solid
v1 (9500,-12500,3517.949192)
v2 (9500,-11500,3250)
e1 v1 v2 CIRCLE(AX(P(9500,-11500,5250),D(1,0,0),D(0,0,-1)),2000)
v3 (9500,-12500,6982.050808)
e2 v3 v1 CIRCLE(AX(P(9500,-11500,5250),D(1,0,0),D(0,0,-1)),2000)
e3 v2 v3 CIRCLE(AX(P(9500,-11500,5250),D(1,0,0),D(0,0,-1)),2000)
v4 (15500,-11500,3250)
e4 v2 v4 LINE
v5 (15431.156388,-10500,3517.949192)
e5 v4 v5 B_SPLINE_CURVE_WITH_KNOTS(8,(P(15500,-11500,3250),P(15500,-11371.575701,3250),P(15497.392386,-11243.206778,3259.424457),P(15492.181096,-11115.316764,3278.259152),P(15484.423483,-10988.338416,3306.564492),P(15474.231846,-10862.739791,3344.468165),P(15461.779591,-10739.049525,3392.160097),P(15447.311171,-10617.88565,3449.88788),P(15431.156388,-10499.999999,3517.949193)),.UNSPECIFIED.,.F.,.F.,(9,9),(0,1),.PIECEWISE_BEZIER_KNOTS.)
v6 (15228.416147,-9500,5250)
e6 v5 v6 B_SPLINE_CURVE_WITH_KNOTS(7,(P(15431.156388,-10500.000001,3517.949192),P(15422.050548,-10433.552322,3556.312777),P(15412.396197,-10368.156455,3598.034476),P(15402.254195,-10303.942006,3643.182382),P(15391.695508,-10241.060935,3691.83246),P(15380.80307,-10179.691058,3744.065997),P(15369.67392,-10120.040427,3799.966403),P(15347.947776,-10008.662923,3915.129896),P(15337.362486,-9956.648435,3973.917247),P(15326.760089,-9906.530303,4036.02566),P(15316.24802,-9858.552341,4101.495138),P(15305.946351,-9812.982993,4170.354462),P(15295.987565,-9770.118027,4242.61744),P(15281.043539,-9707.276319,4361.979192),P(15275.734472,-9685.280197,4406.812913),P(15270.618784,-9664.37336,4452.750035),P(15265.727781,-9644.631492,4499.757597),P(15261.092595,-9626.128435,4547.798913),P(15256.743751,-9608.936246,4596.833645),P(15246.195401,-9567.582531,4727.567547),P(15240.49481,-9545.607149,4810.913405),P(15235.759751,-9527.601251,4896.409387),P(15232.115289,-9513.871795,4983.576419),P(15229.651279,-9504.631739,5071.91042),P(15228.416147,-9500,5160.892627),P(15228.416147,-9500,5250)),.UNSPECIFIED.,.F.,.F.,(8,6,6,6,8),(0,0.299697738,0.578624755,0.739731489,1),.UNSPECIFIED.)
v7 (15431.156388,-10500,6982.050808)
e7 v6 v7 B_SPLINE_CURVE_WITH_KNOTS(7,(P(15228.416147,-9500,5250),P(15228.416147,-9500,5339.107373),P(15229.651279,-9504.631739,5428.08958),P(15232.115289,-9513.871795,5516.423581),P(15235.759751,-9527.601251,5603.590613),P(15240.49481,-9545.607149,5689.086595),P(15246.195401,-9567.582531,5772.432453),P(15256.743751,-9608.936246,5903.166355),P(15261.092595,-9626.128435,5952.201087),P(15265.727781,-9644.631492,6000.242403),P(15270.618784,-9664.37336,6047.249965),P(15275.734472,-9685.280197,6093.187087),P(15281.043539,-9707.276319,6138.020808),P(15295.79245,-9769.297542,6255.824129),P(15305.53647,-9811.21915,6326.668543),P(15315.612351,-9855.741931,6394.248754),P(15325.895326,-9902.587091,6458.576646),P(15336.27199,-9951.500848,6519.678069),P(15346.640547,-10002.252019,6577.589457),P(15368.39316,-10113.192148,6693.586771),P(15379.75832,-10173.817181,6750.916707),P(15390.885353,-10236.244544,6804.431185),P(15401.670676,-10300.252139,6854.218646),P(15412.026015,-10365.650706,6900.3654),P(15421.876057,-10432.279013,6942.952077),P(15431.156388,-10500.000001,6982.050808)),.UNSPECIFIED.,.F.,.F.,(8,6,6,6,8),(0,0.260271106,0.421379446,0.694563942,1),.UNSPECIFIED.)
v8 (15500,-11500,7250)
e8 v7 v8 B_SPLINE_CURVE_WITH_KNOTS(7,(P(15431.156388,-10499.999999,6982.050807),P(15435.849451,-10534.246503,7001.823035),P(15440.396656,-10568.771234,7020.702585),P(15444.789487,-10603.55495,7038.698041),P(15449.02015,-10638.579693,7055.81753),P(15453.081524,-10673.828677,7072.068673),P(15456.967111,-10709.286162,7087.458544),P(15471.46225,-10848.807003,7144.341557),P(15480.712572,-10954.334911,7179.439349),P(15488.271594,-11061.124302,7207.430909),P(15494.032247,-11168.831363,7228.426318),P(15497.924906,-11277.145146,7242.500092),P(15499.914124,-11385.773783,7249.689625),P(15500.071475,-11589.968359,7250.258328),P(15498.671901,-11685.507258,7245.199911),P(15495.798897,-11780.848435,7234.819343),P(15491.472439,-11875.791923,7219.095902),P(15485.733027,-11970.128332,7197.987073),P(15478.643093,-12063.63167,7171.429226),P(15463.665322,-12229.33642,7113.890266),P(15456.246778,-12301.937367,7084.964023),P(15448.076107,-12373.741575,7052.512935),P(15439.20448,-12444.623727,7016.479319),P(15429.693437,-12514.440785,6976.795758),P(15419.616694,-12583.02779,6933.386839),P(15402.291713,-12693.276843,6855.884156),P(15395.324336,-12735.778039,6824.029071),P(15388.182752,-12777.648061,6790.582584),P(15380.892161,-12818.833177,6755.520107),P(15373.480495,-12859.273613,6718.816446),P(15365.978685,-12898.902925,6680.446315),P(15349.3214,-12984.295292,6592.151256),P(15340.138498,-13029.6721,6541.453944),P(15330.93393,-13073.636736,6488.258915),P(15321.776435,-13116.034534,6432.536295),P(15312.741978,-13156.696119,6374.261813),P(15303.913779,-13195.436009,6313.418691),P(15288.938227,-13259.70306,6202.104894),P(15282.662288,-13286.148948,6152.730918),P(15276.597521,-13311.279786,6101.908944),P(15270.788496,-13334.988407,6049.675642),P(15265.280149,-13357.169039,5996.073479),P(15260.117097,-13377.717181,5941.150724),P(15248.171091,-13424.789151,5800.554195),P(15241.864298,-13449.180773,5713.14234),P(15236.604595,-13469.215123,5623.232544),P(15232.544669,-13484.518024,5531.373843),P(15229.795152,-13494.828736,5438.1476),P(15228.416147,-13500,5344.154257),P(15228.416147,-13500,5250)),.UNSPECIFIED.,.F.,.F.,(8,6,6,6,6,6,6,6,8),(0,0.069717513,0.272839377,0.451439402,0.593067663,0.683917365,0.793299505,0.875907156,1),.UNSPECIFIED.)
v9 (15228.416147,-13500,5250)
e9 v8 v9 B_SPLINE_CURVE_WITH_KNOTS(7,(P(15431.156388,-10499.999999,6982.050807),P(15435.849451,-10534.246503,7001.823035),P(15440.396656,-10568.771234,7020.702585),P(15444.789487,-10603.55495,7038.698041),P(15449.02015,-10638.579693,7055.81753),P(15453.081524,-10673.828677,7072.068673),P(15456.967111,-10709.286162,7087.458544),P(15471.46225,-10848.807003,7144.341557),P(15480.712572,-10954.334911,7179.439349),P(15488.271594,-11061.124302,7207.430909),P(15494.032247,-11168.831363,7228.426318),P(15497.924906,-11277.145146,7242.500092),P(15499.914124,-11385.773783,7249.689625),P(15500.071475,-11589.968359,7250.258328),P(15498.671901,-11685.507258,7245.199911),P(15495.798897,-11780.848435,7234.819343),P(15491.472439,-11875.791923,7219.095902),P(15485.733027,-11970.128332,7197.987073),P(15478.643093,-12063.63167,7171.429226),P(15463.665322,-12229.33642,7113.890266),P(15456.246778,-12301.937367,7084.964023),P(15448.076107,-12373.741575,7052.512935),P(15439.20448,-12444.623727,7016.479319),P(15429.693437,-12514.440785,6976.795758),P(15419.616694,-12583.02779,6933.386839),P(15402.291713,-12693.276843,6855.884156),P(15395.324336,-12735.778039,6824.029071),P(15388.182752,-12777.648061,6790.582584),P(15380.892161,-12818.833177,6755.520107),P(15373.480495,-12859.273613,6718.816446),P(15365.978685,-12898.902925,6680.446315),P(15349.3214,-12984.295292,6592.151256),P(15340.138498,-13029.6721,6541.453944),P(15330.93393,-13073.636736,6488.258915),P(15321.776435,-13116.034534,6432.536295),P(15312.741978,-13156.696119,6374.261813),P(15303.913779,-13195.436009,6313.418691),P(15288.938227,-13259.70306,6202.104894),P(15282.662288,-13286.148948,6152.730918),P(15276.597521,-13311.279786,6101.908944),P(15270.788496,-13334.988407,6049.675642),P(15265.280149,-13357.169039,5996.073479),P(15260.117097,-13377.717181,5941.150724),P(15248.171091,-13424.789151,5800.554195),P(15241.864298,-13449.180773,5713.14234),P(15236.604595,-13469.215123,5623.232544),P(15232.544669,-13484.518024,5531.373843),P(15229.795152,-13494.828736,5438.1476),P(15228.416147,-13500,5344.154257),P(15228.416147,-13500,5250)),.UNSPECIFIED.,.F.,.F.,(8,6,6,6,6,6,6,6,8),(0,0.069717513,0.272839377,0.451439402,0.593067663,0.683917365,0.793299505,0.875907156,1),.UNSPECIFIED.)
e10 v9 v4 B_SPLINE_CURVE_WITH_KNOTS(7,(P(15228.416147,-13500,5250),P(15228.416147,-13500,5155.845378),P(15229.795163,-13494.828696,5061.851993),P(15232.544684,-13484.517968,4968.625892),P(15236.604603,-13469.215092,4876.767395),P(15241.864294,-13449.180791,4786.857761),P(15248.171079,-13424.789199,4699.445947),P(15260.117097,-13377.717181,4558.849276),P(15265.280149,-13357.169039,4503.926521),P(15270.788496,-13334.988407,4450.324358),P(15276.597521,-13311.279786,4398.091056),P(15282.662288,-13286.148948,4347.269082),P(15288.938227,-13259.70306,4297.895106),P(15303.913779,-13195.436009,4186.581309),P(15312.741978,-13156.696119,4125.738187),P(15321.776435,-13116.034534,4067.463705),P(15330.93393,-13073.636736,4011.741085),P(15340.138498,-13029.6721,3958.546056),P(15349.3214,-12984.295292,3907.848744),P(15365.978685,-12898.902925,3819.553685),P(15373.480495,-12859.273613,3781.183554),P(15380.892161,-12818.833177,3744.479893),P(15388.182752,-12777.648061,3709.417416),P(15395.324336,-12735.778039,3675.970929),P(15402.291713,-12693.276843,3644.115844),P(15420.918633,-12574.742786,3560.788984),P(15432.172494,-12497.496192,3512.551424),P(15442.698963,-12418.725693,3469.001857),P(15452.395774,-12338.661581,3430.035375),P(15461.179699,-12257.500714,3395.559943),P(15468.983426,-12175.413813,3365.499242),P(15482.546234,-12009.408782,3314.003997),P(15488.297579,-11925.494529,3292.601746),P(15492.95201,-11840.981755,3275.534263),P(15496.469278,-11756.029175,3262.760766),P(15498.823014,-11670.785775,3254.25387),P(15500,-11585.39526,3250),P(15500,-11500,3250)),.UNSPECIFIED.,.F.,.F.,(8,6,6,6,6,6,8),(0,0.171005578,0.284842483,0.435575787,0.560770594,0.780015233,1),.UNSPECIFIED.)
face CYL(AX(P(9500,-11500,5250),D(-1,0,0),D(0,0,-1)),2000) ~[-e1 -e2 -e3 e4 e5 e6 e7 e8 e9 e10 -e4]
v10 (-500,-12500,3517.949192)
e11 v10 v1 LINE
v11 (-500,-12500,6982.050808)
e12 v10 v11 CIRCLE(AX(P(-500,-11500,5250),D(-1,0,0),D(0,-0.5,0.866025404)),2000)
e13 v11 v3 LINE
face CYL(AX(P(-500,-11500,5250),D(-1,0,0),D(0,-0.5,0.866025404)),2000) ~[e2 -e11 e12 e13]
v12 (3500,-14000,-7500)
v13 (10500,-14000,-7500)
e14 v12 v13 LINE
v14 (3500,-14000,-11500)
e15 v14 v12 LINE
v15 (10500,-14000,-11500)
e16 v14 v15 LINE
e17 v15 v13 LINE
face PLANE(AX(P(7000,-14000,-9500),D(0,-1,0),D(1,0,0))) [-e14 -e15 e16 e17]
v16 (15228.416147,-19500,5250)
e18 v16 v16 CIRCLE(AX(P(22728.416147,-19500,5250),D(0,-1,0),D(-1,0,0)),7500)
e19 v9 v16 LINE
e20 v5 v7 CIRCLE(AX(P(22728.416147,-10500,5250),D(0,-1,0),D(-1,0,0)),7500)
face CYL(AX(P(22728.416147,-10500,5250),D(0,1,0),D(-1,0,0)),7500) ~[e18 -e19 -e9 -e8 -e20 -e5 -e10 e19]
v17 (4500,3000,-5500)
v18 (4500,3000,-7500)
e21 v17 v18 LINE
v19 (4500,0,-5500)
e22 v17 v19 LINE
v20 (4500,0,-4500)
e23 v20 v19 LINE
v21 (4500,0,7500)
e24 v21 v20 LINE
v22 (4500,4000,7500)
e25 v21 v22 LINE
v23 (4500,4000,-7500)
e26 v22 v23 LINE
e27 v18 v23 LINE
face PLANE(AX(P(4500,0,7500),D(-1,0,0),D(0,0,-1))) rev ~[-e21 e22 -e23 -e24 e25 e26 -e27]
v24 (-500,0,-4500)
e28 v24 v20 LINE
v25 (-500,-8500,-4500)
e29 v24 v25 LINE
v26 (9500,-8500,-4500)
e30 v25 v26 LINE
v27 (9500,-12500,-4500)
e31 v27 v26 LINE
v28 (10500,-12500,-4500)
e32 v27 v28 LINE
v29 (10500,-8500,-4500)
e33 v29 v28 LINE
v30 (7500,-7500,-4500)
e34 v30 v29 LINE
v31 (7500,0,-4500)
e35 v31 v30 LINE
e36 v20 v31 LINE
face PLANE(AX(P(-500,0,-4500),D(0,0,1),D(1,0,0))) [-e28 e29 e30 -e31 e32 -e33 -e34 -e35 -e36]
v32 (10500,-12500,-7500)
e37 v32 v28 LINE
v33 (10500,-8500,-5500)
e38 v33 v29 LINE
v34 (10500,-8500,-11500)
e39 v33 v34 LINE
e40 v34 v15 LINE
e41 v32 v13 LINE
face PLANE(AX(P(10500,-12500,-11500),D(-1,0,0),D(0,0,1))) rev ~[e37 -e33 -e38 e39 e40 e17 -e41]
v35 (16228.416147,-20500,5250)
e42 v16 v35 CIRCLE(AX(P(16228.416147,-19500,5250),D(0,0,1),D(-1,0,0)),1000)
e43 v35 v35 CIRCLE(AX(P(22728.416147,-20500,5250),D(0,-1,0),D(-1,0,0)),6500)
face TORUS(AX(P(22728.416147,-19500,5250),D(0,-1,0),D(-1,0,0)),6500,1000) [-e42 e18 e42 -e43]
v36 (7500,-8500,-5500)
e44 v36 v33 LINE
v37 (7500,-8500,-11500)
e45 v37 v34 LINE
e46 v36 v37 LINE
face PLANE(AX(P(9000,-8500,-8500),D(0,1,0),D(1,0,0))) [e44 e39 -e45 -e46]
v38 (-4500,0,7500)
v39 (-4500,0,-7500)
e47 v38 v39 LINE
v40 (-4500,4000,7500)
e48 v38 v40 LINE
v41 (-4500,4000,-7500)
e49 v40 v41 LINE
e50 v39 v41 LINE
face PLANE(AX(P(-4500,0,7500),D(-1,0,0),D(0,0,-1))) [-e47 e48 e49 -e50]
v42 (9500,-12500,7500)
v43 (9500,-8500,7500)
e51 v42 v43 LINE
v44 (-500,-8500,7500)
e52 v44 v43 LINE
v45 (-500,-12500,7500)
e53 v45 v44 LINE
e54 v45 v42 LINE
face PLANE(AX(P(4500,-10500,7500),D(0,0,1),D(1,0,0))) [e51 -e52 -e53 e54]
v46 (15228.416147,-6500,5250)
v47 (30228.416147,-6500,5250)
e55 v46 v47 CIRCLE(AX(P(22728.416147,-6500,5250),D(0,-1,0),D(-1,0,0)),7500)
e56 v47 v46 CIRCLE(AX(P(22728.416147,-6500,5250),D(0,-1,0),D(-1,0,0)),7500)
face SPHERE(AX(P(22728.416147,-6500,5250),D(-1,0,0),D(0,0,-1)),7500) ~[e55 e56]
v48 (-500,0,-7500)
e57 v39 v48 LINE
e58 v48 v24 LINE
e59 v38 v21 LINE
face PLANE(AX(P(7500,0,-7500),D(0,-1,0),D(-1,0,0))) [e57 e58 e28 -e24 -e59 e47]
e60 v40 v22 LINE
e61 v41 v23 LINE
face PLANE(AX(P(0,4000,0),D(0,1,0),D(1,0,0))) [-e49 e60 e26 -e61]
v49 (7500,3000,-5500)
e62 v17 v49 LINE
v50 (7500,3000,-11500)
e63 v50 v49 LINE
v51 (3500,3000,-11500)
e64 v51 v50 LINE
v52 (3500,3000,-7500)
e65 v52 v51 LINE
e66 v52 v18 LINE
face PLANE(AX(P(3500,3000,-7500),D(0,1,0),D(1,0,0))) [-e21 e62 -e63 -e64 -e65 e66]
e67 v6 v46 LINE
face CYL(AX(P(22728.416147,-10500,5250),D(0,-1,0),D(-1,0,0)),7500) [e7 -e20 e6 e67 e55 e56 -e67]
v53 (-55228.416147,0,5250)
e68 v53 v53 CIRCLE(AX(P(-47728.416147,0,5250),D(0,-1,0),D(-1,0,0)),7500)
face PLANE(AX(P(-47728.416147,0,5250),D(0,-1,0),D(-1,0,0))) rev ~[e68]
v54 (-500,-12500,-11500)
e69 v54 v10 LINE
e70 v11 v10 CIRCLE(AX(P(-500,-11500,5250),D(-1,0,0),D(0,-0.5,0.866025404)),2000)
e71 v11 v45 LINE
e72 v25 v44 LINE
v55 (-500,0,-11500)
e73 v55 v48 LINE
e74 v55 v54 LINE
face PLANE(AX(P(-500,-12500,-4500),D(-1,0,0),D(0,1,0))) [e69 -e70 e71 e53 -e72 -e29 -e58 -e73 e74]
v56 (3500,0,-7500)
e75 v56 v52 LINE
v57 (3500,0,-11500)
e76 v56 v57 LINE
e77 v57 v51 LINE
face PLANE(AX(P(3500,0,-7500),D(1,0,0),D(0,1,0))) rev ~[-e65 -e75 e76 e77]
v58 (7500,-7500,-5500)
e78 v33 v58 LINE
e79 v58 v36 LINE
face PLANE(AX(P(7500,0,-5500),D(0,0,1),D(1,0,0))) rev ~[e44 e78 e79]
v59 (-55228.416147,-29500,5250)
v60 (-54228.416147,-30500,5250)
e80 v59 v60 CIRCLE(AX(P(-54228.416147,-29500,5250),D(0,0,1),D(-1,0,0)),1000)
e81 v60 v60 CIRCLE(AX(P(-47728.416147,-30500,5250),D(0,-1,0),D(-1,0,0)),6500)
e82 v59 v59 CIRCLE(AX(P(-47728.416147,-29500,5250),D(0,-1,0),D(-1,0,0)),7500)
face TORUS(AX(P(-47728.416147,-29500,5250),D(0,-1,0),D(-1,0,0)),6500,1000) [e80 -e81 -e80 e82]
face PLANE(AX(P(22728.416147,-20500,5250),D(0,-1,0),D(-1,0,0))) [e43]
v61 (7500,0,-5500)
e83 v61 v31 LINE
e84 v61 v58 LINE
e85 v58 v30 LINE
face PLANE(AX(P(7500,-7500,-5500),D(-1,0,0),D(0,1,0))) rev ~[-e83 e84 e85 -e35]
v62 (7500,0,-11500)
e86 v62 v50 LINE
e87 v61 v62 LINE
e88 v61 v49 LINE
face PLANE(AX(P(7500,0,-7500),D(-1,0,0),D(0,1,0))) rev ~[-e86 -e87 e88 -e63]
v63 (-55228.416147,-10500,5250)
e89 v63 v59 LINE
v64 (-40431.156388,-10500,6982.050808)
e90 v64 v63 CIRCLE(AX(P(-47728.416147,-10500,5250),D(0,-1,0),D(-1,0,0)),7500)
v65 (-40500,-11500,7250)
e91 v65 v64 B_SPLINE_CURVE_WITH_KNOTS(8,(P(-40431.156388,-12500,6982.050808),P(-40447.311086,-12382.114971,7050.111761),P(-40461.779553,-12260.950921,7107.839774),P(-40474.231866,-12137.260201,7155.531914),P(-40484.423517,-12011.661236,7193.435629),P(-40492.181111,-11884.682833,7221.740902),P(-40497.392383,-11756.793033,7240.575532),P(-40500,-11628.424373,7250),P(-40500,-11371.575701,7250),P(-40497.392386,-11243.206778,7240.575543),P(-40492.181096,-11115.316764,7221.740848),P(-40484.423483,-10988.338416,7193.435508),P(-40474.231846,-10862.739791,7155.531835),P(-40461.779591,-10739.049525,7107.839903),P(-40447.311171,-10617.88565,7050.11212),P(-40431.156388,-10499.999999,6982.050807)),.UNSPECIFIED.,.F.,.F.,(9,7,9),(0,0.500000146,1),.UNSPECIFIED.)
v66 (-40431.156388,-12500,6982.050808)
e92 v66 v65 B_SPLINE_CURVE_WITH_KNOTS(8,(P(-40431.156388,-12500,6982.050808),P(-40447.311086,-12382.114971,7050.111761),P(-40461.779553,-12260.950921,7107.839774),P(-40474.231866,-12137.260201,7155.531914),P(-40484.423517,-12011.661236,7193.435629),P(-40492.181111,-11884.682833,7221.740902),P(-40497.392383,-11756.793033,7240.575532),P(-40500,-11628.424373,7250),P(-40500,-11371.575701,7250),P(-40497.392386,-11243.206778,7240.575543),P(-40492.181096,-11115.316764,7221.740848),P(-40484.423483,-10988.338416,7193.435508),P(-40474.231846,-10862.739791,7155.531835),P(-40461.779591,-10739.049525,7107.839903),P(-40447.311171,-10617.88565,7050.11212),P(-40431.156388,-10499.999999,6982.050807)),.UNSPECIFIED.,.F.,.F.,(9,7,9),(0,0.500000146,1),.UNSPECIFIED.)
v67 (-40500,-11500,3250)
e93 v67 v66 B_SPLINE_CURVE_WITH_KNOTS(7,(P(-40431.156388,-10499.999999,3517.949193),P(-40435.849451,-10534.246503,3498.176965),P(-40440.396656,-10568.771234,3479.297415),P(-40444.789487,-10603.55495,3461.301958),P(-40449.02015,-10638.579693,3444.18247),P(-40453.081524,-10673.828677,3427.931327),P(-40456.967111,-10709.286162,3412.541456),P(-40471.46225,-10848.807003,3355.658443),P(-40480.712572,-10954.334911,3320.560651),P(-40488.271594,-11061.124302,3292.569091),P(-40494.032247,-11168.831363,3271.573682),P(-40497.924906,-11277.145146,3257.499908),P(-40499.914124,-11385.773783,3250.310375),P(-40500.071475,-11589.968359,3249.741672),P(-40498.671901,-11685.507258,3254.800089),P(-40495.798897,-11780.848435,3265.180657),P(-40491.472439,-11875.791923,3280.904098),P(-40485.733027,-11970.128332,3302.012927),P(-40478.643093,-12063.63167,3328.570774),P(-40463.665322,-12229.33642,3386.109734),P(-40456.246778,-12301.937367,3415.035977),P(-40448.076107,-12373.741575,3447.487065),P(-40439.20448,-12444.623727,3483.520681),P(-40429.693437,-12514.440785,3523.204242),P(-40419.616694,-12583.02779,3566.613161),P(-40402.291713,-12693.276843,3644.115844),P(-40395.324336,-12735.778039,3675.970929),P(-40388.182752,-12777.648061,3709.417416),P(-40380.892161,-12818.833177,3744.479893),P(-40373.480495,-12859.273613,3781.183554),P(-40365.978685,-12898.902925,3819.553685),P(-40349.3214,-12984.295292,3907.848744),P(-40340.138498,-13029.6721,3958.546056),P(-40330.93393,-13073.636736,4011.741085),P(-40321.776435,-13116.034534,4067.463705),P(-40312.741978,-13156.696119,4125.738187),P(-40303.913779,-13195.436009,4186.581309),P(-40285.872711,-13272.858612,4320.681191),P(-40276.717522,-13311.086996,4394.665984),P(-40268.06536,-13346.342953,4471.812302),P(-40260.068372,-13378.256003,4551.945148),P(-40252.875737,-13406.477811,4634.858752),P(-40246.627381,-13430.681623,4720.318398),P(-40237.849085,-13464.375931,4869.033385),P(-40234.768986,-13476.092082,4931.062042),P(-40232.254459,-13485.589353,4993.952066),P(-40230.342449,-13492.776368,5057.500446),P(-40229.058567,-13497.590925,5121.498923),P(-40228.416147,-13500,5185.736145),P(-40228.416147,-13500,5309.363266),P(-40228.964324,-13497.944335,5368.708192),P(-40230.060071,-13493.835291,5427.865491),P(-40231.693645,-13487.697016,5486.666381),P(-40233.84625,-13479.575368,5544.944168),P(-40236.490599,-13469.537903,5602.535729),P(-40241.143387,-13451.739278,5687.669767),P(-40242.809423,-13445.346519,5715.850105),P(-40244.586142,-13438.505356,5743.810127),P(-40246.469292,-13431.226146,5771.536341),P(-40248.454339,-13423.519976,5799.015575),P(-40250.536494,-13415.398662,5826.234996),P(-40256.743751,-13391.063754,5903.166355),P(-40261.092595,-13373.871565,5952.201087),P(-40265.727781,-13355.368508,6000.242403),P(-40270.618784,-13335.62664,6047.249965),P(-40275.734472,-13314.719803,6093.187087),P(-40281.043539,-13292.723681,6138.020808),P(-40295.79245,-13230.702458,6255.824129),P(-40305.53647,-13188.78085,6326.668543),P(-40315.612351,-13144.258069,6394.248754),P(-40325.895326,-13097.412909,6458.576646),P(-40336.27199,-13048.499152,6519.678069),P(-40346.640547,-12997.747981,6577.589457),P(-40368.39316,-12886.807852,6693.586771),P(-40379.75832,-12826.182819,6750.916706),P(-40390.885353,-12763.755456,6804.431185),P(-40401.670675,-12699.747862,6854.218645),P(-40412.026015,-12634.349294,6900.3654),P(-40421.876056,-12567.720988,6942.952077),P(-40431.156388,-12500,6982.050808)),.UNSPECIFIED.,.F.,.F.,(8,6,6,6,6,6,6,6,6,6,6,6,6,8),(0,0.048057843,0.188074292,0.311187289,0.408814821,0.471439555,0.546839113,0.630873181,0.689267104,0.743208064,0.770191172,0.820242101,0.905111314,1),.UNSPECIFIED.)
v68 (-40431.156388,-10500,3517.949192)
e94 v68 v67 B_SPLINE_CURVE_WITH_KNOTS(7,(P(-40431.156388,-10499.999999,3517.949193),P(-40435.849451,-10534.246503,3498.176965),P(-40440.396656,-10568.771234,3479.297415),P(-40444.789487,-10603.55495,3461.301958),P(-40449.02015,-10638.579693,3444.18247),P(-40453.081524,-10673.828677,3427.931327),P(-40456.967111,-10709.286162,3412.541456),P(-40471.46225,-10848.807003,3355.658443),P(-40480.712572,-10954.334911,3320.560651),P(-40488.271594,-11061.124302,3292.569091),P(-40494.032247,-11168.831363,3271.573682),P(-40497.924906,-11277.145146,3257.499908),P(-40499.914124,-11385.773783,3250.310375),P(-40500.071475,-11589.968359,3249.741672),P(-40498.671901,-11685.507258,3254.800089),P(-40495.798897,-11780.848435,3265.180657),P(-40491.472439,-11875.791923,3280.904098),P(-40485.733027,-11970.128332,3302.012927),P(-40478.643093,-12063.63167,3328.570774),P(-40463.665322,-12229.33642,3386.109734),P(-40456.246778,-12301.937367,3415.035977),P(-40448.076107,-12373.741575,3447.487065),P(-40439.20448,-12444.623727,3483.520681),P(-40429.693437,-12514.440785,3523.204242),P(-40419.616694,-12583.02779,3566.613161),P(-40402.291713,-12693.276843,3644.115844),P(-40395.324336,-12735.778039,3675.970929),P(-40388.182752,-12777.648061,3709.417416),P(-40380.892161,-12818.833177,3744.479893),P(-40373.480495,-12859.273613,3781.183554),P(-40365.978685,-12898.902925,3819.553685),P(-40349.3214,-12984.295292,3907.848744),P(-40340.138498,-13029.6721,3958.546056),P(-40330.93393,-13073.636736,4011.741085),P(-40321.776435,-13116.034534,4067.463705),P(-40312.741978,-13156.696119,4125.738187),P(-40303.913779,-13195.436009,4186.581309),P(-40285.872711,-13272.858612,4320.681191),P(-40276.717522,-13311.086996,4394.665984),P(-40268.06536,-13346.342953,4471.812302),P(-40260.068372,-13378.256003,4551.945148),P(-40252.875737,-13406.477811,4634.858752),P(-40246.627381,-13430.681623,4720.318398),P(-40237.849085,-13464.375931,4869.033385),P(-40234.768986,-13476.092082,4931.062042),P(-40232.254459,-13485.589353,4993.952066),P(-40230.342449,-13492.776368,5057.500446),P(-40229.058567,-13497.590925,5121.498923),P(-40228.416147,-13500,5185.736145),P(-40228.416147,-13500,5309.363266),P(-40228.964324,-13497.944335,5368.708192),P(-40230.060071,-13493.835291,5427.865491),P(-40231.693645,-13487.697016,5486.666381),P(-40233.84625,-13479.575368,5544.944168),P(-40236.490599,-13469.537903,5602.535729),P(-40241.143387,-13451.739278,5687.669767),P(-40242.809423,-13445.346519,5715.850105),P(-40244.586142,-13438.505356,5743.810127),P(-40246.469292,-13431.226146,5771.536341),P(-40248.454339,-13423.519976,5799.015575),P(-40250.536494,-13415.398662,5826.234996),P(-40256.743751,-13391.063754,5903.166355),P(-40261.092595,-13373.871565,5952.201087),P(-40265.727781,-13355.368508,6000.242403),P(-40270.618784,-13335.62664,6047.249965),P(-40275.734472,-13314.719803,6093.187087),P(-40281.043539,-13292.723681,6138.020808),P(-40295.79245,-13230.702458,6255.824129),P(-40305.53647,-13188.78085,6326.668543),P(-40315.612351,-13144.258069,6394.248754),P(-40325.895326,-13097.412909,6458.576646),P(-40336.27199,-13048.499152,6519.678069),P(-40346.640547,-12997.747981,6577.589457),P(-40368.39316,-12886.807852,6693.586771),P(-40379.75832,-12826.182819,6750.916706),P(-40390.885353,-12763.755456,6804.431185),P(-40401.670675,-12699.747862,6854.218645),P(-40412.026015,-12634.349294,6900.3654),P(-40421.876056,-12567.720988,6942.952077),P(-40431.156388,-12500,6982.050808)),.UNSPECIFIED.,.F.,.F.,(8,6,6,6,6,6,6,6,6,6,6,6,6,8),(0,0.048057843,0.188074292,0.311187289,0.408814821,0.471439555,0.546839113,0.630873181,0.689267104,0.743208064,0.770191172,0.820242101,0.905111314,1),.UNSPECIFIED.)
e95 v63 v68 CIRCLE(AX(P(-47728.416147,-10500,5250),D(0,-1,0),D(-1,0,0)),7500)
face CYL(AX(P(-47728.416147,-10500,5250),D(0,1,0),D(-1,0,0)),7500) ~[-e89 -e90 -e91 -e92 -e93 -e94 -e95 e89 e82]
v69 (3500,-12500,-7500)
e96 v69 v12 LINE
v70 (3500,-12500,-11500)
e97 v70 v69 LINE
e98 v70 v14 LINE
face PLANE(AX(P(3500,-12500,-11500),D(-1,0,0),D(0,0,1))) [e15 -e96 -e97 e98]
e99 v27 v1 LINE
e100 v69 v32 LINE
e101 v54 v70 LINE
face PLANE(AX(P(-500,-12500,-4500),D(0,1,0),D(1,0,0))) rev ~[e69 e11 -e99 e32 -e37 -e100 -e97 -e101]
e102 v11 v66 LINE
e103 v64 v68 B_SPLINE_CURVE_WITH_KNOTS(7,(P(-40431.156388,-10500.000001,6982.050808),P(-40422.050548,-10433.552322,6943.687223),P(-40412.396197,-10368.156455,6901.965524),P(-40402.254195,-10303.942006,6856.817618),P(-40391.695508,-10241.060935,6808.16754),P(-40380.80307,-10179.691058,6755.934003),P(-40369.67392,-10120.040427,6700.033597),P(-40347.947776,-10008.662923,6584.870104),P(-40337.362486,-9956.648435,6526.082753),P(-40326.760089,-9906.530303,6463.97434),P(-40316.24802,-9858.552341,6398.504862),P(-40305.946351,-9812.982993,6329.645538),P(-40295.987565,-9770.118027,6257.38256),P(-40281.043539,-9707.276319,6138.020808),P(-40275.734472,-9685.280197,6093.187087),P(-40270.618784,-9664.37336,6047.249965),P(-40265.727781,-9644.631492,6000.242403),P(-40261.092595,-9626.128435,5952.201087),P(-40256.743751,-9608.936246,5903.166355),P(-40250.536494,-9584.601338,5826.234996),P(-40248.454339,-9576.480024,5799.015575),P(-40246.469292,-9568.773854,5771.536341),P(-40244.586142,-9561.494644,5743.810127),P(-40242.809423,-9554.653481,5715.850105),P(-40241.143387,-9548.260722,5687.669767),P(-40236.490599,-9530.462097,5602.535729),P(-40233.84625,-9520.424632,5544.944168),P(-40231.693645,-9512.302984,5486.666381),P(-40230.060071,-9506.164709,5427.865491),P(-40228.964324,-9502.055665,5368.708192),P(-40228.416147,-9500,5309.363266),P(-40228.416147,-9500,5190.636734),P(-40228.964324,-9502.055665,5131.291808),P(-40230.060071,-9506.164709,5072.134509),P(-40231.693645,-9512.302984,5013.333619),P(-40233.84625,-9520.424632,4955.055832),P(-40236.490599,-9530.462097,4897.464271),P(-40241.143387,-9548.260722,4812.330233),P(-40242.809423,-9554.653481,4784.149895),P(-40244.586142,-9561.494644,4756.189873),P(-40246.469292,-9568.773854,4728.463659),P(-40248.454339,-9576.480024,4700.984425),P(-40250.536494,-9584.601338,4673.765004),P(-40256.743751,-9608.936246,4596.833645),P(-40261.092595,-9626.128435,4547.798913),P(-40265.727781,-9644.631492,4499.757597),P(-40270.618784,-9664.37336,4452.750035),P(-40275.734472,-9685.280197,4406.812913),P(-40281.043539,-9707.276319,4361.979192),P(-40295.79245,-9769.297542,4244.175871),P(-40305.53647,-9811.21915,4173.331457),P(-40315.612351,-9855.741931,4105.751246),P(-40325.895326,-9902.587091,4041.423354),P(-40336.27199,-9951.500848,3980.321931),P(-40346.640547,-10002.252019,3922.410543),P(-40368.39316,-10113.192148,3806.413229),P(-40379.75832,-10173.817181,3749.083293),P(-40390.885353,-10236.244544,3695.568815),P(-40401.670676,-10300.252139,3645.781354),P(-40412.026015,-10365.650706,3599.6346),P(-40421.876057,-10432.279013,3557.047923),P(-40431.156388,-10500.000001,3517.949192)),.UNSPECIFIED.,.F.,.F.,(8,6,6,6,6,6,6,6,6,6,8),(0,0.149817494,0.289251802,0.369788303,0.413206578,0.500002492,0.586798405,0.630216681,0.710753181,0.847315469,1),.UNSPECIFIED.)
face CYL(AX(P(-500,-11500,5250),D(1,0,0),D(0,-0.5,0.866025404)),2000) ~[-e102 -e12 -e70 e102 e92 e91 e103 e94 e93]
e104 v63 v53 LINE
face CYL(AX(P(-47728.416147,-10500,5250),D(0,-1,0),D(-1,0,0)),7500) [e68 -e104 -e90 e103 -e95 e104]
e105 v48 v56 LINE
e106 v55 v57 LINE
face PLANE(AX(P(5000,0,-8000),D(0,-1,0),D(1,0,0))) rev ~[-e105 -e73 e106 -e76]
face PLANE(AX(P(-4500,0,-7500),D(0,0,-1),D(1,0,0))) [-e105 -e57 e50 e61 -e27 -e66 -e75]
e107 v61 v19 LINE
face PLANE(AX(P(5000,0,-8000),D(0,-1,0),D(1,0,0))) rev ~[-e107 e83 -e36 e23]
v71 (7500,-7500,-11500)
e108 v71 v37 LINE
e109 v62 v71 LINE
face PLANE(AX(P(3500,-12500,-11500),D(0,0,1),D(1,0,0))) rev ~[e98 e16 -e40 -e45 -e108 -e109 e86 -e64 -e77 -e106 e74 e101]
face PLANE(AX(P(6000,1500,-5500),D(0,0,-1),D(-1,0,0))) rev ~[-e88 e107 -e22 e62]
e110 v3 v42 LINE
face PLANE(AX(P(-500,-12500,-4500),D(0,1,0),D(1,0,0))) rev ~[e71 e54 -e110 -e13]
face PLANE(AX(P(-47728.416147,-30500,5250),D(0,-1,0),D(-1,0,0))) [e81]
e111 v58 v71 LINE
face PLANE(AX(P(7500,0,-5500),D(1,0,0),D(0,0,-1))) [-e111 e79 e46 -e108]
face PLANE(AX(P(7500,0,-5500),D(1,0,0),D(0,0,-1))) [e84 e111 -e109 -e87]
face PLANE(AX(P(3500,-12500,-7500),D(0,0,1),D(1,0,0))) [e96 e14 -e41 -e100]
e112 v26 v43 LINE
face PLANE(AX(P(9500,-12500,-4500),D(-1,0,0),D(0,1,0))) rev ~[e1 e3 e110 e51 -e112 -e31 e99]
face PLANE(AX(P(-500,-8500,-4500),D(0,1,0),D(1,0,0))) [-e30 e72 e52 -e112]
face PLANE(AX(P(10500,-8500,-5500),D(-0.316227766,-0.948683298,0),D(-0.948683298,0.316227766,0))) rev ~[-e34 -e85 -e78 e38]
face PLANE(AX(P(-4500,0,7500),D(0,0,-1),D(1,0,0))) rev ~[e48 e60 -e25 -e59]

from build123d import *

# Parameters (mm, degrees)
SKETCH1_W                 = 9000
SKETCH1_H                 = 15000
BOSS_EXTRUDE1_DEPTH       = 4000
SKETCH2_W                 = 3000
SKETCH2_H                 = 3000
SKETCH2_W_2               = 1000
BOSS_EXTRUDE2_DEPTH       = 4000
BOSS_EXTRUDE2_DEPTH_BACK  = 2000
SKETCH3_W                 = 11000
SKETCH3_H                 = 7000
BOSS_EXTRUDE3_DEPTH       = 12500
SKETCH4_W                 = 7000
SKETCH4_H                 = 4000
BOSS_EXTRUDE4_DEPTH       = 1500
SKETCH5_W                 = 10000
SKETCH5_H                 = 4000
BOSS_EXTRUDE5_DEPTH       = 12000
SKETCH6_R                 = 2000
BOSS_EXTRUDE6_DEPTH       = 6000
SKETCH9_R                 = 7500
BOSS_EXTRUDE8_DEPTH       = 10000
BOSS_EXTRUDE8_DEPTH_BACK  = 4000
REVOLVE5_ANGLE            = 180
BOSS_EXTRUDE9_DEPTH       = 40000
SKETCH16_R                = 7500
BOSS_EXTRUDE11_DEPTH      = 20000
BOSS_EXTRUDE11_DEPTH_BACK = 10500
BOSS_EXTRUDE12_DEPTH      = 10000
FILLET1_R                 = 1000
FILLET2_R                 = 1000
SKETCH19_W                = 3000
SKETCH19_H                = 6000
CUT_EXTRUDE1_DEPTH        = 8500
CUT_EXTRUDE2_DEPTH        = 6001
CUT_EXTRUDE2_DEPTH_BACK   = 18251.0000001


with BuildPart() as part:
    # Sketch1 → Boss-Extrude1 (new body)
    with BuildSketch(Plane(origin=(0, 0, 0), x_dir=(1, 0, 0), z_dir=(0, 1, 0))):
        Rectangle(SKETCH1_W, SKETCH1_H)
    extrude(amount=BOSS_EXTRUDE1_DEPTH)

    # Sketch2 → Boss-Extrude2 (add, two sides)
    with BuildSketch(Plane(origin=(0, 0, -7500), x_dir=(-1, 0, 0), z_dir=(0, 0, -1))) as boss_extrude2_sk:
        with Locations((-6000, 1500)):
            Rectangle(SKETCH2_W, SKETCH2_H)
        with Locations((-4000, 1500)):
            Rectangle(SKETCH2_W_2, SKETCH2_H)
    extrude(amount=BOSS_EXTRUDE2_DEPTH)
    extrude(boss_extrude2_sk.sketch, amount=-BOSS_EXTRUDE2_DEPTH_BACK)

    # Sketch3 → Boss-Extrude3 (add)
    with BuildSketch(Plane.XZ):
        with Locations((5000, -8000)):
            Rectangle(SKETCH3_W, SKETCH3_H)
    extrude(amount=BOSS_EXTRUDE3_DEPTH)

    # Sketch4 → Boss-Extrude4 (add)
    with BuildSketch(Plane.XZ.offset(12500)):
        with Locations((7000, -9500)):
            Rectangle(SKETCH4_W, SKETCH4_H)
    extrude(amount=BOSS_EXTRUDE4_DEPTH)

    # Sketch5 → Boss-Extrude5 (add)
    with BuildSketch(Plane.XY.offset(-4500)):
        with Locations((4500, -10500)):
            Rectangle(SKETCH5_W, SKETCH5_H)
    extrude(amount=BOSS_EXTRUDE5_DEPTH)

    # Sketch6 → Boss-Extrude6 (add)
    with BuildSketch(Plane(origin=(9500, 0, 0), x_dir=(0, 0, -1), z_dir=(1, 0, 0))):
        with Locations((-5250, -11500)):
            Circle(SKETCH6_R)
    extrude(amount=BOSS_EXTRUDE6_DEPTH)

    # Sketch9 → Boss-Extrude8 (add, two sides)
    with BuildSketch(Plane(origin=(0, -10500, 0), x_dir=(-1, 0, 0), z_dir=(0, -1, 0))) as boss_extrude8_sk:
        with Locations((-22728.4161474, -5250)):
            Circle(SKETCH9_R)
    extrude(amount=BOSS_EXTRUDE8_DEPTH)
    extrude(boss_extrude8_sk.sketch, amount=-BOSS_EXTRUDE8_DEPTH_BACK)

    # Sketch10 → Revolve5 (revolve)
    with BuildSketch(Plane(origin=(0, -6500, 0), x_dir=(1, 0, 0), z_dir=(0, 1, 0))):
        with BuildLine():
            Line((15228.4161474, -5250), (30228.4161474, -5250))
            ThreePointArc((30228.4161474, -5250), (22728.4161474, 2250), (15228.4161474, -5250))
        make_face()
    revolve(axis=Axis((15228.4161474, -6500, 5250), (1, 0, 0)), revolution_arc=REVOLVE5_ANGLE)

    # Sketch12 → Boss-Extrude9 (add)
    with BuildSketch(Plane.ZY.offset(500)):
        with BuildLine():
            ThreePointArc((3517.949192431, -12500), (5250, -13500), (6982.050807569, -12500))
            ThreePointArc((6982.050807569, -12500), (5250, -9500), (3517.949192431, -12500))
        make_face()
    extrude(amount=BOSS_EXTRUDE9_DEPTH)

    # Sketch16 → Boss-Extrude11 (add, two sides)
    with BuildSketch(Plane(origin=(0, -10500, 0), x_dir=(-1, 0, 0), z_dir=(0, -1, 0))) as boss_extrude11_sk:
        with Locations((47728.4161474, -5250)):
            Circle(SKETCH16_R)
    extrude(amount=BOSS_EXTRUDE11_DEPTH)
    extrude(boss_extrude11_sk.sketch, amount=-BOSS_EXTRUDE11_DEPTH_BACK)

    # Sketch18 → Boss-Extrude12 (add)
    with BuildSketch(Plane(origin=(-500, 0, 0), x_dir=(0, 0, -1), z_dir=(1, 0, 0))):
        with BuildLine():
            Line((-3517.949192431, -12500), (-6982.050807569, -12500))
            ThreePointArc((-6982.050807569, -12500), (-5250, -13500), (-3517.949192431, -12500))
        make_face()
    extrude(amount=BOSS_EXTRUDE12_DEPTH)

    # Fillet1
    fillet1_edges = [part.edges().sort_by_distance(p)[0] for p in [
        (30228.4161474, -20500, 5250),
    ]]
    fillet(fillet1_edges, radius=FILLET1_R)

    # Fillet2
    fillet2_edges = [part.edges().sort_by_distance(p)[0] for p in [
        (-40228.4161474, -30500, 5250),
    ]]
    fillet(fillet2_edges, radius=FILLET2_R)

    # Sketch19 → Cut-Extrude1 (cut)
    with BuildSketch(Plane(origin=(0, 0, 0), x_dir=(1, 0, 0), z_dir=(0, 1, 0))):
        with Locations((9000, 8500)):
            Rectangle(SKETCH19_W, SKETCH19_H)
    extrude(amount=-CUT_EXTRUDE1_DEPTH, mode=Mode.SUBTRACT)

    # Sketch20 → Cut-Extrude2 (cut, two sides)
    with BuildSketch(Plane(origin=(0, 0, -5500), x_dir=(-1, 0, 0), z_dir=(0, 0, -1))) as cut_extrude2_sk:
        Polygon((-10500, 0), (-10500, -8500), (-7500, -7500), (-7500, 0), align=None)
    extrude(amount=CUT_EXTRUDE2_DEPTH, mode=Mode.SUBTRACT)
    extrude(cut_extrude2_sk.sketch, amount=-CUT_EXTRUDE2_DEPTH_BACK, mode=Mode.SUBTRACT)


solid = part.part
